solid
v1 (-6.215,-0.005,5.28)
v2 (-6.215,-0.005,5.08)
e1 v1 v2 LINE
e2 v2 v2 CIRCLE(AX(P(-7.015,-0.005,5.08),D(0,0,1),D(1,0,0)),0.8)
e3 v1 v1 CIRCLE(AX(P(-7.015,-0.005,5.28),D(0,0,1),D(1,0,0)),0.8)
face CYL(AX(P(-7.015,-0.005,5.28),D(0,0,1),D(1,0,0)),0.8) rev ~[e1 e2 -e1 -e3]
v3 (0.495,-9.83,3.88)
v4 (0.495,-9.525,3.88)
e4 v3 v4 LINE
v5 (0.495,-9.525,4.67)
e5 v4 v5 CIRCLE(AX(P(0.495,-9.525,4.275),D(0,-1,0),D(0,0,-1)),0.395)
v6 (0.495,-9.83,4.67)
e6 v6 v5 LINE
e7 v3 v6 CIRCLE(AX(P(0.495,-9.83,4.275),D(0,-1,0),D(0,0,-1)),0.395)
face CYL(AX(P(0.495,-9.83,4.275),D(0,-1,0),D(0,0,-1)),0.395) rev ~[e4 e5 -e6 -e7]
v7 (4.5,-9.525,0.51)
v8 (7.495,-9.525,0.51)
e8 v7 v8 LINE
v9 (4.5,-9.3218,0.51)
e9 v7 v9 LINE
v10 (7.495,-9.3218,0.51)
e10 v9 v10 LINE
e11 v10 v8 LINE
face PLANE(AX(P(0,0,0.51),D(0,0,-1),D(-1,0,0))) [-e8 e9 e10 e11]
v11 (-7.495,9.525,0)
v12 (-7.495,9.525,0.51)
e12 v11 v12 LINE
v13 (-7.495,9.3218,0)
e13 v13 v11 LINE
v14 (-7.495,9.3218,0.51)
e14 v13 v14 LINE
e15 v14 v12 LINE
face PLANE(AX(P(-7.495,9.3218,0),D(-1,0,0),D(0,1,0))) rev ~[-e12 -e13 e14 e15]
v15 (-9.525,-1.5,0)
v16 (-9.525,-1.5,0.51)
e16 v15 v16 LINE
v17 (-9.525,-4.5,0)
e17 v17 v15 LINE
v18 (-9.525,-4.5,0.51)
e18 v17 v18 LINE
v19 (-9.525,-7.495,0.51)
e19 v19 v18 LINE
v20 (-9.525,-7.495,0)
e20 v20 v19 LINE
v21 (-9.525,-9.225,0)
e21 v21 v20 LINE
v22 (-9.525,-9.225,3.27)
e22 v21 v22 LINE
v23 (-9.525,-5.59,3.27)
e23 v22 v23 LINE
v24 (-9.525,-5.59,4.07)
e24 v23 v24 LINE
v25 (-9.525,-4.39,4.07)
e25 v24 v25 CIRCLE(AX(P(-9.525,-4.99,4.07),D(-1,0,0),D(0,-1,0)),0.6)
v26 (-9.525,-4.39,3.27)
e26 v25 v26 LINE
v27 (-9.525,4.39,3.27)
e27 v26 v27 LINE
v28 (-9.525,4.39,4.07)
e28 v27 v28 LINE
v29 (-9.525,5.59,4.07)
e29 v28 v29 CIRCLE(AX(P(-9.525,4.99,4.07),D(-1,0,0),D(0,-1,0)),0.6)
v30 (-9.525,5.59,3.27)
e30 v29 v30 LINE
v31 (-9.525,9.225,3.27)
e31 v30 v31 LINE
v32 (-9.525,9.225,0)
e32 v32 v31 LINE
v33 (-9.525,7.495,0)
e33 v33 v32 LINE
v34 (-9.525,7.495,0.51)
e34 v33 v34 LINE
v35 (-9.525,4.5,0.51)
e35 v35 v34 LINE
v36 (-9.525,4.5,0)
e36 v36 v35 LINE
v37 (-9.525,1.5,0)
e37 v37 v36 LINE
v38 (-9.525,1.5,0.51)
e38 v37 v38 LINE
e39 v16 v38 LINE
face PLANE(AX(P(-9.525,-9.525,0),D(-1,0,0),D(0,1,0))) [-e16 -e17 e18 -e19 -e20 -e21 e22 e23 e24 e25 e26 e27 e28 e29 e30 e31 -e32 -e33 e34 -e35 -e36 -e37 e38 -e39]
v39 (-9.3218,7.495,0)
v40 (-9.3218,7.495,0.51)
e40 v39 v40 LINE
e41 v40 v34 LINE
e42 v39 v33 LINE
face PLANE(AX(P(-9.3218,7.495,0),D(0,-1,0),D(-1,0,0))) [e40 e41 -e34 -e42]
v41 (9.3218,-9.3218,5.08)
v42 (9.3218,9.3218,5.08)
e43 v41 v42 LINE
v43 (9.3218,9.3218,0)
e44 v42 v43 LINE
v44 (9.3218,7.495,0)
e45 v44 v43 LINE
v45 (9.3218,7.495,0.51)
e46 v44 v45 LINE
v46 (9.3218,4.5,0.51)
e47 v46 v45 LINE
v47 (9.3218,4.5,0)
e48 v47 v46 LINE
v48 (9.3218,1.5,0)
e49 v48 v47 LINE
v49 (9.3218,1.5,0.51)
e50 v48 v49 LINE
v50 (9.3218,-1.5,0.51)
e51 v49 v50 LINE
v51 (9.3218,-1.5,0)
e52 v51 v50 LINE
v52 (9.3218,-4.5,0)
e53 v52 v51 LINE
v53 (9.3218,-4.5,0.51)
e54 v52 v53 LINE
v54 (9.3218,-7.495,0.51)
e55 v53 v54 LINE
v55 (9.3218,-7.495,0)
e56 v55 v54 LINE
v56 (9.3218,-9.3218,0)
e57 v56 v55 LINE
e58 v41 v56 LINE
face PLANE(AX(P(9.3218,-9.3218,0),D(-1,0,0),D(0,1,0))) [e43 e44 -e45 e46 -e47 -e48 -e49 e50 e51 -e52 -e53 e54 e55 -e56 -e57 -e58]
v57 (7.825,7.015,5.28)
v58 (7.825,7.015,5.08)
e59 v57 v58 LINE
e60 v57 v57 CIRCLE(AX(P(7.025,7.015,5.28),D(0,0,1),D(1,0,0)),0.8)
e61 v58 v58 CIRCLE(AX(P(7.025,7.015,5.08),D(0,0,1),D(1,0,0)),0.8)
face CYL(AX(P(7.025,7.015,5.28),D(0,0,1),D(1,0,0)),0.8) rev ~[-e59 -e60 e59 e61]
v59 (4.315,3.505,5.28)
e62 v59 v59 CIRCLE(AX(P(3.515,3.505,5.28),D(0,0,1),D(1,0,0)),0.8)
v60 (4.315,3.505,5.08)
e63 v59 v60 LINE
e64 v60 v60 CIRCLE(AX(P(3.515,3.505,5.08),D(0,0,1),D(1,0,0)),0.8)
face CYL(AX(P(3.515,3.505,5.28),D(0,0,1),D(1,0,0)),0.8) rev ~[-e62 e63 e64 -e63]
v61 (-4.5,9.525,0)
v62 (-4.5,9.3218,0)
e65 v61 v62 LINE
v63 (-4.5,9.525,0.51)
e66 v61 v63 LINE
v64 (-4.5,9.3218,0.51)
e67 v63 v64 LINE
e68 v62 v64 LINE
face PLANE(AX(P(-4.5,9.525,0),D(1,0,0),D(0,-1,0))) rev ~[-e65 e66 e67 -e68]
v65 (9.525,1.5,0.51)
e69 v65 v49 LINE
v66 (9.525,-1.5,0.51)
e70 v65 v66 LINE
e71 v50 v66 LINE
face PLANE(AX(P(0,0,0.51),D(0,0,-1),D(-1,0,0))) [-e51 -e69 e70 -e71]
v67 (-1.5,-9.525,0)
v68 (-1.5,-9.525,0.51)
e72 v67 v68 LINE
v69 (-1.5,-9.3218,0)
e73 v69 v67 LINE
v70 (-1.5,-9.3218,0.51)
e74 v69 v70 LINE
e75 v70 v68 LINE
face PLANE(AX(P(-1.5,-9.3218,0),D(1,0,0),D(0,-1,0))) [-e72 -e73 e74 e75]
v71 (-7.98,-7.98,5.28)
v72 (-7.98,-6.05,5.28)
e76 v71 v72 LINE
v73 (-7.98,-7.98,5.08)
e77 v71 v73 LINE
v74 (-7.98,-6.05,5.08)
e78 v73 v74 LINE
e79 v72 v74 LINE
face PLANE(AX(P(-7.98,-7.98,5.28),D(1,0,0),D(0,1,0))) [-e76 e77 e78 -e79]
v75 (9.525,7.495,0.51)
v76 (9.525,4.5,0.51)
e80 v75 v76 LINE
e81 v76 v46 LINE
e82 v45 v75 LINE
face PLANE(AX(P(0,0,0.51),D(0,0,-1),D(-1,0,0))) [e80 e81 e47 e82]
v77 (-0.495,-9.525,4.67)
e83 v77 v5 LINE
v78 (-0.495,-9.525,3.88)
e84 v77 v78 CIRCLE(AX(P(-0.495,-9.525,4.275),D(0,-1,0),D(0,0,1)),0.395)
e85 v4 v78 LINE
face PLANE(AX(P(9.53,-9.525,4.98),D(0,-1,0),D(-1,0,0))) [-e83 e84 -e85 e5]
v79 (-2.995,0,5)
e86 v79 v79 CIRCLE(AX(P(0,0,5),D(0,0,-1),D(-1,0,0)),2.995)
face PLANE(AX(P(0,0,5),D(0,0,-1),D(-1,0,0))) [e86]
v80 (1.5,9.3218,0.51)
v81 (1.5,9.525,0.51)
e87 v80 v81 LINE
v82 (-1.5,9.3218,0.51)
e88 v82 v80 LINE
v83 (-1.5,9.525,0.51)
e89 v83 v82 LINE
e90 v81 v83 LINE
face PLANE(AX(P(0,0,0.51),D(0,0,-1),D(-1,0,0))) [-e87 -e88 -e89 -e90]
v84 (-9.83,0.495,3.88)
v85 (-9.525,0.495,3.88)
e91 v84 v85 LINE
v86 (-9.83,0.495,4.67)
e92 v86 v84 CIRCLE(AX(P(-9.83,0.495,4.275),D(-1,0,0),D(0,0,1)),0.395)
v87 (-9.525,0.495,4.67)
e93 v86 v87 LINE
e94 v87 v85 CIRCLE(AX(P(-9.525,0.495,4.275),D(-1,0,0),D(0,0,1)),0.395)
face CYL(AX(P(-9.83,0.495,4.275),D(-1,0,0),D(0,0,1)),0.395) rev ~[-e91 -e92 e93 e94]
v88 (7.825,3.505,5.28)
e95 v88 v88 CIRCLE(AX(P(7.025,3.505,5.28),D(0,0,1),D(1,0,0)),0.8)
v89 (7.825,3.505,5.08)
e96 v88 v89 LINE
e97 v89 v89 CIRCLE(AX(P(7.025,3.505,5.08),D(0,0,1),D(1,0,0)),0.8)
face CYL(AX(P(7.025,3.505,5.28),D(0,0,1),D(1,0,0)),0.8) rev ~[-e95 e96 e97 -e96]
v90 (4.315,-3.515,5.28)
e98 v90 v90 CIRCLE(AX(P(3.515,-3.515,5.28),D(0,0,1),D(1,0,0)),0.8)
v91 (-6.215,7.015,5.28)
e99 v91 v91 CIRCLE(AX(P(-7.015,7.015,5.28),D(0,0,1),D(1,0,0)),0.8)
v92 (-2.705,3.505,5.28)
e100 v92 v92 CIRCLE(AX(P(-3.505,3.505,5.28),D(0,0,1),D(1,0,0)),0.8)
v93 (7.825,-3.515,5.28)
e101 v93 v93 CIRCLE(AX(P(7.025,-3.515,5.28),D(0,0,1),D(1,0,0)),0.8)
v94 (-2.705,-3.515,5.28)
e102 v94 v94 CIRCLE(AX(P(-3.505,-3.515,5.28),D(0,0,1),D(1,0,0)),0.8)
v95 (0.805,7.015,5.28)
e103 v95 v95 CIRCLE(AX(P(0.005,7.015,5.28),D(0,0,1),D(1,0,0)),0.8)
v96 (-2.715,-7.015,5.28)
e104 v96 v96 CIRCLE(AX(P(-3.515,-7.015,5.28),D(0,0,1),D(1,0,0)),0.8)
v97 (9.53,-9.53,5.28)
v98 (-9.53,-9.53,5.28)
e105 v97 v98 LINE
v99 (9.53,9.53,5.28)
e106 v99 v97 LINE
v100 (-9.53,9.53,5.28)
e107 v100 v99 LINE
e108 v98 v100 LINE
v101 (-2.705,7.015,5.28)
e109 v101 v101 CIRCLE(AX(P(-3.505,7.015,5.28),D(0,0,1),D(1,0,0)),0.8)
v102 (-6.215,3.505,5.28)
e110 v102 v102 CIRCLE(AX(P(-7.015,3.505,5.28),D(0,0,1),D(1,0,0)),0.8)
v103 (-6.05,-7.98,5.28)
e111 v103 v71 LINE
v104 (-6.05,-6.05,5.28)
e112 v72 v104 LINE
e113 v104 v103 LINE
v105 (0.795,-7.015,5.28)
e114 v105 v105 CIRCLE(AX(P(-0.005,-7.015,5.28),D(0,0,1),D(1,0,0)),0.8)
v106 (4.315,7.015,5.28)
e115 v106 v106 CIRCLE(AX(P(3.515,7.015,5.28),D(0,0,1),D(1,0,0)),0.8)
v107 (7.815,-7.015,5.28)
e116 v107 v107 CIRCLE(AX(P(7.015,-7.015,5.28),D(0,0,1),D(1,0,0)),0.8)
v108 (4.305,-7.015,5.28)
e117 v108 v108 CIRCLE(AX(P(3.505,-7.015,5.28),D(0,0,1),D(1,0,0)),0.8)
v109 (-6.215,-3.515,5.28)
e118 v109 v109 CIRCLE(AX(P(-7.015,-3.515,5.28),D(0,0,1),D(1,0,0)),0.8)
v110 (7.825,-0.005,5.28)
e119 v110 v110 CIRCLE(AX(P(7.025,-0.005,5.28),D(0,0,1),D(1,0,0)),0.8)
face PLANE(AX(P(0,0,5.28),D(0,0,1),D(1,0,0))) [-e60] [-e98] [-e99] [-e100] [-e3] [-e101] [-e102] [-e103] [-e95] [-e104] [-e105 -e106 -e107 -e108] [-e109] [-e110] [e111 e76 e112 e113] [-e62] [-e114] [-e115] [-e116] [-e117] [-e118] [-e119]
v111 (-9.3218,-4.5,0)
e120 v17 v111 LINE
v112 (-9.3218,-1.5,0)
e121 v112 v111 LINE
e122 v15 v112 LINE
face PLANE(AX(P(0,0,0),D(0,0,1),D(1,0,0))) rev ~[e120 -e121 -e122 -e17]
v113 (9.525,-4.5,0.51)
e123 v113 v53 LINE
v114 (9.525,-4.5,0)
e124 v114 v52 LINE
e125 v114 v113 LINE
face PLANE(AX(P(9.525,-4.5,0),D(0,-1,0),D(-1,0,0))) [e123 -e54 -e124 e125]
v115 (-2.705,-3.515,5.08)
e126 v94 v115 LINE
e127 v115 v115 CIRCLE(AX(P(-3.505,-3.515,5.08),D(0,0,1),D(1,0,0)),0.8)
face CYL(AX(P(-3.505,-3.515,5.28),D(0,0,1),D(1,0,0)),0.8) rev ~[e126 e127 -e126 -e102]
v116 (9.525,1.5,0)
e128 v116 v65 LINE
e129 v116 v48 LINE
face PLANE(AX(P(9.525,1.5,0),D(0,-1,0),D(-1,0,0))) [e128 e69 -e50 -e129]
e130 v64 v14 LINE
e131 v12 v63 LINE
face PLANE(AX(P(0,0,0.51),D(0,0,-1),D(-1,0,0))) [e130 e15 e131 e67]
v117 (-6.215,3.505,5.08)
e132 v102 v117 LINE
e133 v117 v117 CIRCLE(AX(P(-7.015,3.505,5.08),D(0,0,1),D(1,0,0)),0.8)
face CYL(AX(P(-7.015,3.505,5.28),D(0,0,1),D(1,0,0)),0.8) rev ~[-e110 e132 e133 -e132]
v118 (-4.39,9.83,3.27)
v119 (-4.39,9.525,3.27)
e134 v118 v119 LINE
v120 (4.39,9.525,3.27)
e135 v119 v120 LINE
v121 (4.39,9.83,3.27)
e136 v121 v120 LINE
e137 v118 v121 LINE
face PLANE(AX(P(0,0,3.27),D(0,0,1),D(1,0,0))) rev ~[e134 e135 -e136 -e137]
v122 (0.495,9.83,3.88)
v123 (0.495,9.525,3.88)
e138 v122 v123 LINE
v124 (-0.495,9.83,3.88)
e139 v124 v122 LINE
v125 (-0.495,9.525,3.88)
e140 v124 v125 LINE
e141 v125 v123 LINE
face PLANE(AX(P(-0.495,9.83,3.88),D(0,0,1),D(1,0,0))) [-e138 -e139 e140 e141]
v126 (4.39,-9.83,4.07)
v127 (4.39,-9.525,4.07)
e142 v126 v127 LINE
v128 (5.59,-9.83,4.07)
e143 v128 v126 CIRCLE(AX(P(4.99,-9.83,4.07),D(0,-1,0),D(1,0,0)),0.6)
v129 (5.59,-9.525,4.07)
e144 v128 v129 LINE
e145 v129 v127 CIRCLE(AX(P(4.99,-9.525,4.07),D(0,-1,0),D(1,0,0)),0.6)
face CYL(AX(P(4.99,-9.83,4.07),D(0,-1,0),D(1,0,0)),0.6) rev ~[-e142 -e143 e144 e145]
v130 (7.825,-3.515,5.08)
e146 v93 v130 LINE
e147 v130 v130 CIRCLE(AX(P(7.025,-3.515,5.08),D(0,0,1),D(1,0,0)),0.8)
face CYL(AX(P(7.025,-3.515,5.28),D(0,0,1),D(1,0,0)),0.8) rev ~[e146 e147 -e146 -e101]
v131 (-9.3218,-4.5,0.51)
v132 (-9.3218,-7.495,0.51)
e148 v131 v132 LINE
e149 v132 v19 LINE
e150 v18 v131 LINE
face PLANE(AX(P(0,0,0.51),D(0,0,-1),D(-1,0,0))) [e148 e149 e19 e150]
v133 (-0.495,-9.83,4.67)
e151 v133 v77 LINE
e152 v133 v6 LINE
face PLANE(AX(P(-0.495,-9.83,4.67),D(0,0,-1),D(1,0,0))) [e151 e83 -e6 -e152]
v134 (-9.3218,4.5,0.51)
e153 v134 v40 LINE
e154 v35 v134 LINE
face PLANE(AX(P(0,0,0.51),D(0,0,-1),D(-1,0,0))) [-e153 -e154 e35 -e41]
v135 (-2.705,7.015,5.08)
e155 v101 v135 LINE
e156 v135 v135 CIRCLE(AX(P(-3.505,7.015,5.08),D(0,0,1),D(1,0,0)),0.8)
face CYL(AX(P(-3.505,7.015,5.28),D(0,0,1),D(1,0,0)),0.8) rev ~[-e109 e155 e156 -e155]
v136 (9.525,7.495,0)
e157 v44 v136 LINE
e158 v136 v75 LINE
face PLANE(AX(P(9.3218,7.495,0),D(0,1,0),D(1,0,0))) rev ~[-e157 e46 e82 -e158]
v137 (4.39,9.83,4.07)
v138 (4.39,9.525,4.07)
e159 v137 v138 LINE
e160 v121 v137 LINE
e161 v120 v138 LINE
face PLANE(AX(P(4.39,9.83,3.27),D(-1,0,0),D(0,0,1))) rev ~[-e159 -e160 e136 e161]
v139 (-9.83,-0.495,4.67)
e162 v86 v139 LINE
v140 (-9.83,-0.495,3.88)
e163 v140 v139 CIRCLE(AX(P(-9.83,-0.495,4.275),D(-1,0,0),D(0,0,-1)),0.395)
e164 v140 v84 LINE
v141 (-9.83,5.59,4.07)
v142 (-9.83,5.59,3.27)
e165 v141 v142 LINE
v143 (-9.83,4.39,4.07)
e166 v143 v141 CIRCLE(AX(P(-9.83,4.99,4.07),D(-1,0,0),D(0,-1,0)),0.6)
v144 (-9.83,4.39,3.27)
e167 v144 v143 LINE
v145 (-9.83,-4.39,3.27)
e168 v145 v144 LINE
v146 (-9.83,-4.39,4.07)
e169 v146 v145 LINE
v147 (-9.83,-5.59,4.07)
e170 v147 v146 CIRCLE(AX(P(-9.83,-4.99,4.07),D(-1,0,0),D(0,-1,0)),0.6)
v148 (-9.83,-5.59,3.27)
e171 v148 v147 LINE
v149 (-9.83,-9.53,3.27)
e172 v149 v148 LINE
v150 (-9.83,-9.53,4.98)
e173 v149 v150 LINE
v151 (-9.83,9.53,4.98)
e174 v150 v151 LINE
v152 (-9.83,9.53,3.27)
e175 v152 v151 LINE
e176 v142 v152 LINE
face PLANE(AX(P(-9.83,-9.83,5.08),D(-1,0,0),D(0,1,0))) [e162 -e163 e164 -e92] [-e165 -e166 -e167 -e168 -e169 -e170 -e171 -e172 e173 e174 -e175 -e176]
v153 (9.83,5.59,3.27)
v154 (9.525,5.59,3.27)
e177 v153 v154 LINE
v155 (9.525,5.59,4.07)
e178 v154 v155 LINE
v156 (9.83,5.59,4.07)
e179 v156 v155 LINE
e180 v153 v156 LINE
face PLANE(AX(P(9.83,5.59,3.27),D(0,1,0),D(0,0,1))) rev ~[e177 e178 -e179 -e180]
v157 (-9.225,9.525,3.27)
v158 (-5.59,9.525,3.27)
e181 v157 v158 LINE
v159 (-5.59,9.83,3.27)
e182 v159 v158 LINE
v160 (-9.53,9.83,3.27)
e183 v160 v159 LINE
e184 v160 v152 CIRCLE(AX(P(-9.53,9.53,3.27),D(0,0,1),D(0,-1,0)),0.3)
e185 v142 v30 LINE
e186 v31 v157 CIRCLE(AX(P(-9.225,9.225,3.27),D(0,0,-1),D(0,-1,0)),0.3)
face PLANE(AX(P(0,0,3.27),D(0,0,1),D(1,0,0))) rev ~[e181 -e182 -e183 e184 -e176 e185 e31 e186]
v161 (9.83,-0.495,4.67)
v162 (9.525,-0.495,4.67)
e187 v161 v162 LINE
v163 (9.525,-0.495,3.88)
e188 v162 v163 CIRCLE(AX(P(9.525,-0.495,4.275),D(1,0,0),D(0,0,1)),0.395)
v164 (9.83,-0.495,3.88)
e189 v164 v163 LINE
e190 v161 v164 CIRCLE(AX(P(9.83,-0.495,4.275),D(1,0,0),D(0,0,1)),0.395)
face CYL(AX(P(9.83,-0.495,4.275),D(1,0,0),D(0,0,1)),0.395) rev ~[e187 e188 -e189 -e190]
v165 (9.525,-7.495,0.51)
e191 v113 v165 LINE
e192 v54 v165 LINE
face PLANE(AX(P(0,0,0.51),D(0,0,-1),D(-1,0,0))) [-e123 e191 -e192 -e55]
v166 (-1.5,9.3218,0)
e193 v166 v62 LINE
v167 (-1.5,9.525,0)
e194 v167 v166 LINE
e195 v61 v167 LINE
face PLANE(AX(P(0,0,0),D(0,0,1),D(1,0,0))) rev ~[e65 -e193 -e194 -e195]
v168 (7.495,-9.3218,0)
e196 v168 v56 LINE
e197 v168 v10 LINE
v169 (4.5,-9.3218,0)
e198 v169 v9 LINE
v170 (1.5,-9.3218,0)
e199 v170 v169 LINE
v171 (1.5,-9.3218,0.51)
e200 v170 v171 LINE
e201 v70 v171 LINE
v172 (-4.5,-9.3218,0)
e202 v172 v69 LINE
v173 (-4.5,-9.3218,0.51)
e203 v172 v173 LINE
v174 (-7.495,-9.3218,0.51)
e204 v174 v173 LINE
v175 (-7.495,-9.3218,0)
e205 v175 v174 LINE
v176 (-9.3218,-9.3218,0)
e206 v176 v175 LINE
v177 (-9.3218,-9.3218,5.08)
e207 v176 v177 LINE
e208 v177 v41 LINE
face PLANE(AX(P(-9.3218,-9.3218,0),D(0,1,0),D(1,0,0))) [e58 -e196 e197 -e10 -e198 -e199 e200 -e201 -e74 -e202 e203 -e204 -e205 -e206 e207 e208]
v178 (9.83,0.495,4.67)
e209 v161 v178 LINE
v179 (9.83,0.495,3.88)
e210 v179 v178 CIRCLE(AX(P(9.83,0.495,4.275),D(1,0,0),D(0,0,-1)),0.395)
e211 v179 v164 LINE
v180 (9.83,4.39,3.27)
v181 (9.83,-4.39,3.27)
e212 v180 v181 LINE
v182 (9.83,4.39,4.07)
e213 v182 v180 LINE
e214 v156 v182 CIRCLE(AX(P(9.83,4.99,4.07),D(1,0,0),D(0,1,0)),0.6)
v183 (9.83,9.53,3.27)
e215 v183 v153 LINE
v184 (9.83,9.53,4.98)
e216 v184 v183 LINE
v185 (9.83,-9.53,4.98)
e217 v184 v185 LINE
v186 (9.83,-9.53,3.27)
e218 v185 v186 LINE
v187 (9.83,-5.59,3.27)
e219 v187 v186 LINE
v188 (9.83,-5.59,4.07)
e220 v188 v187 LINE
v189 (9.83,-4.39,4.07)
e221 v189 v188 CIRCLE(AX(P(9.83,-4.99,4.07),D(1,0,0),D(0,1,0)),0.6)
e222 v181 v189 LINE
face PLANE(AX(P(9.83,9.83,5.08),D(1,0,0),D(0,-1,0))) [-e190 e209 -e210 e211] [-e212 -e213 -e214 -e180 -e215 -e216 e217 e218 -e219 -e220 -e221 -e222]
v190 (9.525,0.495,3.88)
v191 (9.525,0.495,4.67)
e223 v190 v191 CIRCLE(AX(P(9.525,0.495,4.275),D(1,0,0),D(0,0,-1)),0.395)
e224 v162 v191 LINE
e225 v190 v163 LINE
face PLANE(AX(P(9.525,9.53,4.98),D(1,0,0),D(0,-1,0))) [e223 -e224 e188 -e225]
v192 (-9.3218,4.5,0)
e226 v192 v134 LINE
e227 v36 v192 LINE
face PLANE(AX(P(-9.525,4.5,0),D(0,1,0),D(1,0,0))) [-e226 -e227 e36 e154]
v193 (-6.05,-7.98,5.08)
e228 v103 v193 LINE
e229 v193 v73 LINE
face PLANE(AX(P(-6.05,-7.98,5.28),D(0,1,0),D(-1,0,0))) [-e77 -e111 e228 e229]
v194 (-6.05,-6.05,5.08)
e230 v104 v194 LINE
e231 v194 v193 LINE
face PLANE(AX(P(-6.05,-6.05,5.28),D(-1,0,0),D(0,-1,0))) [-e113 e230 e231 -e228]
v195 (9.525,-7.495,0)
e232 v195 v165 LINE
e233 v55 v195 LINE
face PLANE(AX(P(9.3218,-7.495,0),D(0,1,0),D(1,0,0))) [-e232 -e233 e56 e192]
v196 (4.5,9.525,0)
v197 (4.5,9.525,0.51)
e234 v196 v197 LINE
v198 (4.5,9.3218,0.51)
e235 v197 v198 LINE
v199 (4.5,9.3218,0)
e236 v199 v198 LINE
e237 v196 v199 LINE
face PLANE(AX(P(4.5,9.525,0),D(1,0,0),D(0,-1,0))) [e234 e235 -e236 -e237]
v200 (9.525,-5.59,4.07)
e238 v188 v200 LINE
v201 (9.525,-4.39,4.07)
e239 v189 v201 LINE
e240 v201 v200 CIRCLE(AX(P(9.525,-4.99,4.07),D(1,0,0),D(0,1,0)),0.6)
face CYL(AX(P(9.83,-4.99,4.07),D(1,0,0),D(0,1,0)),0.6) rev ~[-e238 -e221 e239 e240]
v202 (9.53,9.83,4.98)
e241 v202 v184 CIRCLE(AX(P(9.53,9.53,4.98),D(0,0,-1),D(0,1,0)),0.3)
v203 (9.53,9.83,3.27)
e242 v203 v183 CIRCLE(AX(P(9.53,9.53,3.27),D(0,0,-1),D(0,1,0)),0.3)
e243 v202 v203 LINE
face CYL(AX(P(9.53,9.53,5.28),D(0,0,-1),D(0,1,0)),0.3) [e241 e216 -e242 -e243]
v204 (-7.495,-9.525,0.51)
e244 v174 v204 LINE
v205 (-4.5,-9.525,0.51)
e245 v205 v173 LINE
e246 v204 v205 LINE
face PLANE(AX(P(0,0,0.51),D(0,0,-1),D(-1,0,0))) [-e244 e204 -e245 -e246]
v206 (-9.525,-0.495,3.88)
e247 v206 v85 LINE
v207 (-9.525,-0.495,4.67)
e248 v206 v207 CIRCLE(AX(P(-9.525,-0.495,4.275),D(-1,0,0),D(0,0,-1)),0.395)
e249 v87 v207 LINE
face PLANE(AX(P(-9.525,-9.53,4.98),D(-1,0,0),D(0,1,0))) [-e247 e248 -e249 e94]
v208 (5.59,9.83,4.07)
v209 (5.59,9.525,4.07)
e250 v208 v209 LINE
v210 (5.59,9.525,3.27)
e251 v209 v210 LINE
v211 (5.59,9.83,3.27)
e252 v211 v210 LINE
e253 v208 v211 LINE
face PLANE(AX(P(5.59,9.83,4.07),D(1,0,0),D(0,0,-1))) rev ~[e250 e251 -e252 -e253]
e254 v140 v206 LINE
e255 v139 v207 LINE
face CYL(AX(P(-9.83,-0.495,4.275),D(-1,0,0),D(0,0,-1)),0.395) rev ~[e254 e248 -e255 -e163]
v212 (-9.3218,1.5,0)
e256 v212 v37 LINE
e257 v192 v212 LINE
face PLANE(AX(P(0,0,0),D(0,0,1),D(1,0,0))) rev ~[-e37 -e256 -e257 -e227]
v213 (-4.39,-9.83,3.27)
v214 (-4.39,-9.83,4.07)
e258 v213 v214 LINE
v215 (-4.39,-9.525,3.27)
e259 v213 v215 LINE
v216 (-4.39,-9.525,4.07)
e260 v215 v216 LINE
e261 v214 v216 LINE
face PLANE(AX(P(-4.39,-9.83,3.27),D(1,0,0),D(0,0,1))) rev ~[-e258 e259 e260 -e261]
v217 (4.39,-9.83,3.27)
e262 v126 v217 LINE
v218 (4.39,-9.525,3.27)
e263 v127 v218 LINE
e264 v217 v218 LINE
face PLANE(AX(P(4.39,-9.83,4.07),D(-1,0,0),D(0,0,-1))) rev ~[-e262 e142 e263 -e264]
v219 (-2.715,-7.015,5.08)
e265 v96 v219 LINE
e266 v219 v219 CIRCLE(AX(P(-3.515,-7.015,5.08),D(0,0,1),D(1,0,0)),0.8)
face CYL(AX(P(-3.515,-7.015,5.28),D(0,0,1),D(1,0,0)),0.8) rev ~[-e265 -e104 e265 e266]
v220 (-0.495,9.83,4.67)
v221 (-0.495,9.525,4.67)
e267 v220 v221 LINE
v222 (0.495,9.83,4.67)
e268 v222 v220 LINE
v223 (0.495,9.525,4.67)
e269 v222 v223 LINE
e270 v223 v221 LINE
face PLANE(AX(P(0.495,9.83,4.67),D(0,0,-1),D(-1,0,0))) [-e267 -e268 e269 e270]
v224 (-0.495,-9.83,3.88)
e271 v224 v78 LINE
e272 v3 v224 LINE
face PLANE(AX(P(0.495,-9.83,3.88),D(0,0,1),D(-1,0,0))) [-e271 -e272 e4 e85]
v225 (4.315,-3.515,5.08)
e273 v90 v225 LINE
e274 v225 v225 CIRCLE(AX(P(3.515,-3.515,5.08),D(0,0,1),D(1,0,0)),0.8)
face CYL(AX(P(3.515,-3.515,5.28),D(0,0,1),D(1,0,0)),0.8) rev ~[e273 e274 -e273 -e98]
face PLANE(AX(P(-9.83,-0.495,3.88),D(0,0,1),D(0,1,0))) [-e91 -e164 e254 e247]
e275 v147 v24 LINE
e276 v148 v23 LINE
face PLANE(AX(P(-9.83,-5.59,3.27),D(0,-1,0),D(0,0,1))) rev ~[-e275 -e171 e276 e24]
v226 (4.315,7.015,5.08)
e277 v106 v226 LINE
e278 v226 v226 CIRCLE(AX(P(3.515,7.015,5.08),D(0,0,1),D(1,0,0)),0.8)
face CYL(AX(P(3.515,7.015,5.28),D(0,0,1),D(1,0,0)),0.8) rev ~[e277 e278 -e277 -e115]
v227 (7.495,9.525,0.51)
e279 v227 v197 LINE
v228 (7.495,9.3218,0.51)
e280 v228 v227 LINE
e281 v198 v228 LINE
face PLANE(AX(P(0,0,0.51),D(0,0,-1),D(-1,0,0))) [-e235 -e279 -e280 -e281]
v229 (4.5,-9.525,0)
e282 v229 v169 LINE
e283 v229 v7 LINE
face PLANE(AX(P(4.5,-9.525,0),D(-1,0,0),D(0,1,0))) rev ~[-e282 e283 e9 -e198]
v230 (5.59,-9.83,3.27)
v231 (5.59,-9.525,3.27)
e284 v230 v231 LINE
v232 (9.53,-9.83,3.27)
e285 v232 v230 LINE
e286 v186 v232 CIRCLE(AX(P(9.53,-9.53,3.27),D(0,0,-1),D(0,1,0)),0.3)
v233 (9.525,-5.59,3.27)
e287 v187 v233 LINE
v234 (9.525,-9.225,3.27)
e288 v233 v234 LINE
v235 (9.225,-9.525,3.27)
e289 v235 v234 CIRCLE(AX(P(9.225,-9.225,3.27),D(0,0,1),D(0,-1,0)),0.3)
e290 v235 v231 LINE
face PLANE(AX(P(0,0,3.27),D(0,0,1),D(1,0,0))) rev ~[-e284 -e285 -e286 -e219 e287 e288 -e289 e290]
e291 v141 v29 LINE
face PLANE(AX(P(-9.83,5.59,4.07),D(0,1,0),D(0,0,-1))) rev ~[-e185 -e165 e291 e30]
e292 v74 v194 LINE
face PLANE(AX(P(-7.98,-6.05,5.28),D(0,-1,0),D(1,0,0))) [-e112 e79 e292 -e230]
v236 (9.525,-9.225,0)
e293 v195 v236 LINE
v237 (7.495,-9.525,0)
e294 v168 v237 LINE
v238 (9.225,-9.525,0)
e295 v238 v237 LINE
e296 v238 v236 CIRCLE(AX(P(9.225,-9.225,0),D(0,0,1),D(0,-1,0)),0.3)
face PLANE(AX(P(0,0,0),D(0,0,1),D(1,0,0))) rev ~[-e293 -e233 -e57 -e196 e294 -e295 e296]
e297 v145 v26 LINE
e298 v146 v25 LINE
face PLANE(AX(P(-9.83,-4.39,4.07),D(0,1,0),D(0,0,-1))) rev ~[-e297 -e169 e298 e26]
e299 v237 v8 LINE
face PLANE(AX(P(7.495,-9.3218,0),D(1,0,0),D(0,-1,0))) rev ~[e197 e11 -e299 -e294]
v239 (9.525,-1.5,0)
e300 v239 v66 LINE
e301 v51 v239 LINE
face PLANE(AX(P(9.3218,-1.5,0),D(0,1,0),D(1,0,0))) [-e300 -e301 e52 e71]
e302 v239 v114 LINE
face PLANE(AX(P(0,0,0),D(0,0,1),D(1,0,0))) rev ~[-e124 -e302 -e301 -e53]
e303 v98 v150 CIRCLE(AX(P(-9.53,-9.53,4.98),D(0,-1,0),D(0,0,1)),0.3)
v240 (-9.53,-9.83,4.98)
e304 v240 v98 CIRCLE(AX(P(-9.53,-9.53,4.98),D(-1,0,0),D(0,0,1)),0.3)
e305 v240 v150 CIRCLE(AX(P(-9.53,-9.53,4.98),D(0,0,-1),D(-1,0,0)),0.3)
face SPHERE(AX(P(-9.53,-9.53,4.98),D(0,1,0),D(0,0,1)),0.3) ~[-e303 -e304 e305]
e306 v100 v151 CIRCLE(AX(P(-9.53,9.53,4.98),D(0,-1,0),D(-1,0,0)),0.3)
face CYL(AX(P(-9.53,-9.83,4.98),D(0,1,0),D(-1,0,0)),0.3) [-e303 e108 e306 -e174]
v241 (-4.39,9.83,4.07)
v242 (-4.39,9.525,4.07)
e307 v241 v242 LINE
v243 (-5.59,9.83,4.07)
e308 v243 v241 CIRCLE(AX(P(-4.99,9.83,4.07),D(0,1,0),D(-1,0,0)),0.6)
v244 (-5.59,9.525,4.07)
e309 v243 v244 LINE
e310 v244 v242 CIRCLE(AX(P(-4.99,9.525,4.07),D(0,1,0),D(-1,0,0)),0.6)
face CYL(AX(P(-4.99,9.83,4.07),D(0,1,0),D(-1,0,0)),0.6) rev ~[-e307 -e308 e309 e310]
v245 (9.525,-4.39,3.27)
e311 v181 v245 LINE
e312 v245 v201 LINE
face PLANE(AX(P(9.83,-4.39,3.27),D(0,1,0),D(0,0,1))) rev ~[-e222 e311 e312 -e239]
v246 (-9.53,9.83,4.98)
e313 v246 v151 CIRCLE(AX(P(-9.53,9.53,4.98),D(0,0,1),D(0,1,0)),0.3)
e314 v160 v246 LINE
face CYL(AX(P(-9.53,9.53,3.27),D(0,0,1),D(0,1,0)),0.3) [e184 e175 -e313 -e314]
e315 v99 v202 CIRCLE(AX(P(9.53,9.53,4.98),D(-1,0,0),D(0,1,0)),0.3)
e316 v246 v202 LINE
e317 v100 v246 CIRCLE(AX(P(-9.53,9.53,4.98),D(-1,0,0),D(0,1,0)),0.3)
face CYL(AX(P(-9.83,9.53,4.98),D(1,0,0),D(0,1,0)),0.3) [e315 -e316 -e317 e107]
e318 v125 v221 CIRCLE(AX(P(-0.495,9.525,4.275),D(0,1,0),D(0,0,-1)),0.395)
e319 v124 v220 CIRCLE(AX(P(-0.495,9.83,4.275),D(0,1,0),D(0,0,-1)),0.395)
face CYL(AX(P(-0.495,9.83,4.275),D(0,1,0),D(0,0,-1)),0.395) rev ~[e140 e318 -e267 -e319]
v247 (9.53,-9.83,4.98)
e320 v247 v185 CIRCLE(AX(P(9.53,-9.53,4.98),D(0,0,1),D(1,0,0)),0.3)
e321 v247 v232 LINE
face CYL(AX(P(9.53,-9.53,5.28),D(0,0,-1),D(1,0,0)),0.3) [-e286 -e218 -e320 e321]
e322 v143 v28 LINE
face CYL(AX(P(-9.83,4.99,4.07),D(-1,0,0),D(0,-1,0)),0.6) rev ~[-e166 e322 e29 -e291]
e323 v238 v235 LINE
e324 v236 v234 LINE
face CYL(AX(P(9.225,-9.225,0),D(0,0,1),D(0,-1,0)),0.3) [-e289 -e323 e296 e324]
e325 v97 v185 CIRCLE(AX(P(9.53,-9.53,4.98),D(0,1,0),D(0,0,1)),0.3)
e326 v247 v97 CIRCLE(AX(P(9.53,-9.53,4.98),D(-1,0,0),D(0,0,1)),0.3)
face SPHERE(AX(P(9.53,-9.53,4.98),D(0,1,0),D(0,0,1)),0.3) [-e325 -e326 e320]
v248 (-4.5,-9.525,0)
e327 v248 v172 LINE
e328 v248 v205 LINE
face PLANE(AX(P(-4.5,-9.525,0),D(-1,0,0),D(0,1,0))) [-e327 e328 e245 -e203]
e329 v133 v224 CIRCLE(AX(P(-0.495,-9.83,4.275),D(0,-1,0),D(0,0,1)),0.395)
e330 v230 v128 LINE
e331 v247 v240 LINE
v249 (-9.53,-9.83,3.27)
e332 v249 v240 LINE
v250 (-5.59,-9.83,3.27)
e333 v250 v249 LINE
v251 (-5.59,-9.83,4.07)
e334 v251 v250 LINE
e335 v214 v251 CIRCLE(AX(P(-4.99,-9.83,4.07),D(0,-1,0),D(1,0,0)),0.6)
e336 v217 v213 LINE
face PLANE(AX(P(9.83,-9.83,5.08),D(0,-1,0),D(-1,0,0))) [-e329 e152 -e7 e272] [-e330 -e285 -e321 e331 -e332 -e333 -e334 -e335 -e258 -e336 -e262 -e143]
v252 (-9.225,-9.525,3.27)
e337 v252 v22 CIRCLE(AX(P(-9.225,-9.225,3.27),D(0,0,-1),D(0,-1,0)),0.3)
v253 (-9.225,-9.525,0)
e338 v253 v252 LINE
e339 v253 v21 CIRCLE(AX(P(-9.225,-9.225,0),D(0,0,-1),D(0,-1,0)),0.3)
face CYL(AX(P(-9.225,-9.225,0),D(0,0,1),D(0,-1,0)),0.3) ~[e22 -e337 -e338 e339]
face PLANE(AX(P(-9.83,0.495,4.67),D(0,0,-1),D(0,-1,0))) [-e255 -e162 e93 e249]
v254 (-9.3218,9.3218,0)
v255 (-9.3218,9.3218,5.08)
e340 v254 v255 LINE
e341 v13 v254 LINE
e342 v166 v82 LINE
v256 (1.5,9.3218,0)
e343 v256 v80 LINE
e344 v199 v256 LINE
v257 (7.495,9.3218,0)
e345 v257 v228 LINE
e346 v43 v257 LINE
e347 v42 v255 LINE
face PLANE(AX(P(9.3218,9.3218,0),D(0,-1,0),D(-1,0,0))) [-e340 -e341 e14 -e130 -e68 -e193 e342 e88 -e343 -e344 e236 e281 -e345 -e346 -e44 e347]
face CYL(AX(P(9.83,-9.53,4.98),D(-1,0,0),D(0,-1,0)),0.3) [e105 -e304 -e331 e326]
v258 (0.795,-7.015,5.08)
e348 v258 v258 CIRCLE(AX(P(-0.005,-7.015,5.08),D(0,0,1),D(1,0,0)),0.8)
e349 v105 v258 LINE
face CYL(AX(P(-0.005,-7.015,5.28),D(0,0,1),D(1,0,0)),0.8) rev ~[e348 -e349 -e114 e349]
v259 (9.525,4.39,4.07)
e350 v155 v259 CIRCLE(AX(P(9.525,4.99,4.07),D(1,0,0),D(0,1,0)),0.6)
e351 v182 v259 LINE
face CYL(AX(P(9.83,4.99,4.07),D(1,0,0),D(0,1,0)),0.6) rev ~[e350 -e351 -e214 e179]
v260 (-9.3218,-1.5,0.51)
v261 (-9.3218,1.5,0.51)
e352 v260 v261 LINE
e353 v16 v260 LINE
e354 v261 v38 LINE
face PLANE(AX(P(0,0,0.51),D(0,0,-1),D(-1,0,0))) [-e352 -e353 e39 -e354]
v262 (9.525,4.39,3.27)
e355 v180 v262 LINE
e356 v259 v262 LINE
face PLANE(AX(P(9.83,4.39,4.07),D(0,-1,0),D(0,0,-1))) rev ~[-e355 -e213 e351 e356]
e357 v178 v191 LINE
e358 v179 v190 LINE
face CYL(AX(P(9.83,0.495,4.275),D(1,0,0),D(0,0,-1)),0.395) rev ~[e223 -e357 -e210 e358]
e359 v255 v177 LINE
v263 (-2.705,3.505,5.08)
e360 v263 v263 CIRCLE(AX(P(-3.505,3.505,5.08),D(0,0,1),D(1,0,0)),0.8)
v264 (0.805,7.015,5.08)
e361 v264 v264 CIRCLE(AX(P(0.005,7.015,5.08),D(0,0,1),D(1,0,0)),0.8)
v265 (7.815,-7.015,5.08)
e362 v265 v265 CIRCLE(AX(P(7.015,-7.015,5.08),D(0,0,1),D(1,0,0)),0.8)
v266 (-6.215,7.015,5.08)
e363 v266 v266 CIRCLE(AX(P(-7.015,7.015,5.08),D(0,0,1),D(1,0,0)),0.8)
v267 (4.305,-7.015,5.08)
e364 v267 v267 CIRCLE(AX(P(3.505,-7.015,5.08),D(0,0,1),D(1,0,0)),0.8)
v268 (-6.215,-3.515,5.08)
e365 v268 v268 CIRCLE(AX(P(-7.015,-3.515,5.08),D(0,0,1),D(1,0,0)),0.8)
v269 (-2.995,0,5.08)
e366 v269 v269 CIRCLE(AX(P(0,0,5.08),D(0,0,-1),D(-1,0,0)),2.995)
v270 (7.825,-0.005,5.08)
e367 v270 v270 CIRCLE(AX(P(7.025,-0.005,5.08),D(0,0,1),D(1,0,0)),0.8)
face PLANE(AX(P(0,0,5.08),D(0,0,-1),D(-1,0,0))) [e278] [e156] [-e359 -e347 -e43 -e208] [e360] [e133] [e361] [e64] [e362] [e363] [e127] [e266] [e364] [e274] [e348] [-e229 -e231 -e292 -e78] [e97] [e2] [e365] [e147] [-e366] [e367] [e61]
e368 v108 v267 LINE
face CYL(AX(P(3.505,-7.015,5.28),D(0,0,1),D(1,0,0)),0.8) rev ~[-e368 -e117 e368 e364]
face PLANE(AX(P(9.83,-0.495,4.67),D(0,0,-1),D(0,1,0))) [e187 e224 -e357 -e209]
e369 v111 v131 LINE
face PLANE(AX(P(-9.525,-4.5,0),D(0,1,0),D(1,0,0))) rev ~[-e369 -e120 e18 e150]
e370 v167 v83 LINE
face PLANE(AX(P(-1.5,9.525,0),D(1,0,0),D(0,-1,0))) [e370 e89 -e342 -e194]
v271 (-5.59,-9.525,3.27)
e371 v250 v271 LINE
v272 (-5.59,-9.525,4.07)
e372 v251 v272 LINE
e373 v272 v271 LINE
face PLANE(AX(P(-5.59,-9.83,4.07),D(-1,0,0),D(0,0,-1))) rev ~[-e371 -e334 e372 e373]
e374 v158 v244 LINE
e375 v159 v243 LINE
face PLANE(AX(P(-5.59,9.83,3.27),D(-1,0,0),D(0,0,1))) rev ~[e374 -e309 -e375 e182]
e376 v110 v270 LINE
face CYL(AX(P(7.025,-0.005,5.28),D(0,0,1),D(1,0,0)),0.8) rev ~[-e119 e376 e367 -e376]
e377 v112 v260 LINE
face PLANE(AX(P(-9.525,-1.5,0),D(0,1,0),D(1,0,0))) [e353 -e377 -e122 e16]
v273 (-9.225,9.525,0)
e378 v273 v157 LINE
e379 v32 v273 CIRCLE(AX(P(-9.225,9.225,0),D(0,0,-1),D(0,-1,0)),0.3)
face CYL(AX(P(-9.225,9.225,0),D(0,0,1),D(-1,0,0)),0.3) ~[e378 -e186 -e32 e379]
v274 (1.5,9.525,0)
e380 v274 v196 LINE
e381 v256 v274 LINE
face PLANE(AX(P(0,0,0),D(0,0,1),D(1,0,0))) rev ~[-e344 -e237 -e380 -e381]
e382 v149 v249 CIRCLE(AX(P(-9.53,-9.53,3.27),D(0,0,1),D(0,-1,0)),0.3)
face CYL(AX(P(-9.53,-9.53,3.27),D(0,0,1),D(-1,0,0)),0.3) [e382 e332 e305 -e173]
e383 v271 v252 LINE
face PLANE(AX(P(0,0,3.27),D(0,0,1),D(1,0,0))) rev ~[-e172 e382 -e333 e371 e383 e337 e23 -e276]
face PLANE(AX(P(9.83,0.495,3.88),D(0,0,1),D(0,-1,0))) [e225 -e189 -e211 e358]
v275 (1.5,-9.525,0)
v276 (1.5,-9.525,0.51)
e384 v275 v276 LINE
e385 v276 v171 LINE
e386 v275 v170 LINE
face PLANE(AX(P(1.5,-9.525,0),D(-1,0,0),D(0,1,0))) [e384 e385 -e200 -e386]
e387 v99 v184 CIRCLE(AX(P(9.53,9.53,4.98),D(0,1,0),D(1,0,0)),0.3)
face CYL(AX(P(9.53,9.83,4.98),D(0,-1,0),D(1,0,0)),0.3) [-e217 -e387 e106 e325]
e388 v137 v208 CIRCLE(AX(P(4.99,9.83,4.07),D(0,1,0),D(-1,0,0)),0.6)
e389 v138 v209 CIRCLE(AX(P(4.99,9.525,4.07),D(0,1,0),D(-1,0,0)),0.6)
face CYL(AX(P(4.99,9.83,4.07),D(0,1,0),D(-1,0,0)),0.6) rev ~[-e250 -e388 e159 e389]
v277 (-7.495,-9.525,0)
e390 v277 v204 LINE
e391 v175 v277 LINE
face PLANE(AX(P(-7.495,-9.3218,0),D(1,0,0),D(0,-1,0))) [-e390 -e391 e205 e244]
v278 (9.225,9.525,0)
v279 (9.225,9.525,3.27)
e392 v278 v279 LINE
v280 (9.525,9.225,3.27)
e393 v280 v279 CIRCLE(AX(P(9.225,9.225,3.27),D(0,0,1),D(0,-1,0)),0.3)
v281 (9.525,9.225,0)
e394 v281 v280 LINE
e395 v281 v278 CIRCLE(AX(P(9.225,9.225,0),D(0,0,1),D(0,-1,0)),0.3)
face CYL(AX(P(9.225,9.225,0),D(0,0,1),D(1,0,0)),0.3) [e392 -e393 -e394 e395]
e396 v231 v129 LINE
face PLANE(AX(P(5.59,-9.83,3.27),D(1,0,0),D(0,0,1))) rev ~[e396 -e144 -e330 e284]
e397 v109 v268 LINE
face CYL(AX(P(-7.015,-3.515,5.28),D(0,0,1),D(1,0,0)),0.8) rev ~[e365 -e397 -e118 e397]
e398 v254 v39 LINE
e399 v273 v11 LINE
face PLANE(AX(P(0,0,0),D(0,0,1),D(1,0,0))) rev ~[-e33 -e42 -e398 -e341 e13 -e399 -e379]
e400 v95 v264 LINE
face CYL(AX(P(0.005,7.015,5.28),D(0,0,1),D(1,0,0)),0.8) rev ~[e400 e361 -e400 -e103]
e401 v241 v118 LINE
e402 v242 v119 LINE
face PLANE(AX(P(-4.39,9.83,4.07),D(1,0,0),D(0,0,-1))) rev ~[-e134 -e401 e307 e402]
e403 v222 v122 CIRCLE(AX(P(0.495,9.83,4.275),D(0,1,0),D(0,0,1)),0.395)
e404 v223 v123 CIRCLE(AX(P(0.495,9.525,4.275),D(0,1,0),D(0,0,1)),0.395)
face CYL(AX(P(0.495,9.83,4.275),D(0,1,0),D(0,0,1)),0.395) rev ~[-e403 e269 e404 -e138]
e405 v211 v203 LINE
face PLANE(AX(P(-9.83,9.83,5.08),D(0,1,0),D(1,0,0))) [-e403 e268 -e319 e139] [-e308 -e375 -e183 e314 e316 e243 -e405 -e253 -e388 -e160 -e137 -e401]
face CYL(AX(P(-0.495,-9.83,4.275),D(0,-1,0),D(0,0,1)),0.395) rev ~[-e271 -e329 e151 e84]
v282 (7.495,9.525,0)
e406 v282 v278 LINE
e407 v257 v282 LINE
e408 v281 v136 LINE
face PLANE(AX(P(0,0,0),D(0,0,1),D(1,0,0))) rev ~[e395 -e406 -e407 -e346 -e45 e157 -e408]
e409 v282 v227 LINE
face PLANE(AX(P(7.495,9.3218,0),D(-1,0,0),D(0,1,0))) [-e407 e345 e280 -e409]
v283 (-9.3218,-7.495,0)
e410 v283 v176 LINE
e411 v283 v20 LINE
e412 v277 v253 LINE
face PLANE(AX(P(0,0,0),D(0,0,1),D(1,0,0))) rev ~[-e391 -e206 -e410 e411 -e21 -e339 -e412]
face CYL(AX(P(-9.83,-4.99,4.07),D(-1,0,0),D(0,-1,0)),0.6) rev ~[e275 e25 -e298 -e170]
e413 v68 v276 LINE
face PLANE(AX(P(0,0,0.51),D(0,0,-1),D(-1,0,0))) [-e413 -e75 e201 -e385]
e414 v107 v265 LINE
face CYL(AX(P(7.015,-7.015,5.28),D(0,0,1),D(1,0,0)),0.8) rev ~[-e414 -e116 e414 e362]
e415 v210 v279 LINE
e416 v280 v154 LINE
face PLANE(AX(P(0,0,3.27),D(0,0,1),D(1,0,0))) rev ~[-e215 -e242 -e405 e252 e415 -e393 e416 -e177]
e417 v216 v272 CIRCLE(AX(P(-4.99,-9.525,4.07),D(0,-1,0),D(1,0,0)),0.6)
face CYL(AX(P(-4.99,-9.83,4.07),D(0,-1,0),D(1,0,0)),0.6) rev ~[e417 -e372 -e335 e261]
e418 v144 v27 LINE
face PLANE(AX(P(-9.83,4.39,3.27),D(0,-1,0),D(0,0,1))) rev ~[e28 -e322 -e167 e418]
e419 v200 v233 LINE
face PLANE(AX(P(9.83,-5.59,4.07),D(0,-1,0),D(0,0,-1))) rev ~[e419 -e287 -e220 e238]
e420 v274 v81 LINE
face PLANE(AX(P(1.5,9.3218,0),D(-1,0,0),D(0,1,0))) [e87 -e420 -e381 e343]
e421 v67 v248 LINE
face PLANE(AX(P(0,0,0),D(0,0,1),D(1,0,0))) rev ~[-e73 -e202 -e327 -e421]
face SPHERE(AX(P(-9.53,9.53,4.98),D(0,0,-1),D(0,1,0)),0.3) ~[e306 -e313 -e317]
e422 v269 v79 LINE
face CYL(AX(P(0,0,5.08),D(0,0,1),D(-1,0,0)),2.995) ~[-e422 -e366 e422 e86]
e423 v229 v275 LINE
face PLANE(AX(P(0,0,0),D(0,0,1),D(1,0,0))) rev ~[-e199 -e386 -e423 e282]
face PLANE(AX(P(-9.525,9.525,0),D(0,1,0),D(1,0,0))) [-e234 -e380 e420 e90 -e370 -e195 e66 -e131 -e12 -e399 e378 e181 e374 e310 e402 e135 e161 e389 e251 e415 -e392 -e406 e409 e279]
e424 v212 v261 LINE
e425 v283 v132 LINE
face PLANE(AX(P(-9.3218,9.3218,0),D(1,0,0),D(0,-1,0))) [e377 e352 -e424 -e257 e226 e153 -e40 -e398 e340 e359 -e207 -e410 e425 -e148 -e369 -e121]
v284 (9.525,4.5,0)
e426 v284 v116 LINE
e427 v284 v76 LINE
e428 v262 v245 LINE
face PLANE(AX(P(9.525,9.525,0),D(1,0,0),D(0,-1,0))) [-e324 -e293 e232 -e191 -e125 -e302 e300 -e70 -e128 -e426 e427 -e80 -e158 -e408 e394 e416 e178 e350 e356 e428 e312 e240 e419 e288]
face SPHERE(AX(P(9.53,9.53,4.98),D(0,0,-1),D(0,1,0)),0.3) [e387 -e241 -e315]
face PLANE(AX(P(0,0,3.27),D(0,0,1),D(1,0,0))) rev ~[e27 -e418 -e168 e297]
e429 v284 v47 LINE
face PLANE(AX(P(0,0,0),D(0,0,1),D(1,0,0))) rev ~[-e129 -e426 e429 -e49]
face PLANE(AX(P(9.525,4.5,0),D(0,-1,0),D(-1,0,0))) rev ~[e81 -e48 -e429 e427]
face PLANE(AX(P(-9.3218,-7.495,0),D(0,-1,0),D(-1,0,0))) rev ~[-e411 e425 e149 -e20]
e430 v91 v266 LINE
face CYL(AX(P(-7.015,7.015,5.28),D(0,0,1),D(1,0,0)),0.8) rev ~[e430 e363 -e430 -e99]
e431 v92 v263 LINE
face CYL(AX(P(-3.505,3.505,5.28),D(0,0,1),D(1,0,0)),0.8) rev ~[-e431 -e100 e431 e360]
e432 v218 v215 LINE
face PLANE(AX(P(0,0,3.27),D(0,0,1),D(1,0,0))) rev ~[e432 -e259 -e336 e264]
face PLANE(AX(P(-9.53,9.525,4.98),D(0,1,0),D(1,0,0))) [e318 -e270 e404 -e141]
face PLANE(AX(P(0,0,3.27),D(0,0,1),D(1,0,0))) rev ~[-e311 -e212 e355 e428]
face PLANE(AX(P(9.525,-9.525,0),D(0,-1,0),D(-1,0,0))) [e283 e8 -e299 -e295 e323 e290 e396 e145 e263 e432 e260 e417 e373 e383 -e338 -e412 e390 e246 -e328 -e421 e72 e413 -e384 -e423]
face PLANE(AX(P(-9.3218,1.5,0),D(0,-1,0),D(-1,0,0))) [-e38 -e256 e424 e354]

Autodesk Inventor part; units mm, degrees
ref_plane "YZ Plane" through (0, 0, 0) normal (1, 0, 0) x (0, 1, 0)
ref_plane "XZ Plane" through (0, 0, 0) normal (0, 1, 0) x (-1, 0, 0)
ref_plane "XY Plane" through (0, 0, 0) normal (0, 0, 1) x (1, 0, 0)
sketch "Schizzo1" plane through (0, 0, 0) normal (0, 0, 1) x (1, 0, 0)
  line L0 (9.525, -9.525) -> (-9.525, -9.525)
  line L1 (-9.525, -9.525) -> (-9.525, 9.525)
  line L2 (-9.525, 9.525) -> (9.525, 9.525)
  line L3 (9.525, 9.525) -> (9.525, -9.525)
  line L4 (0, 0) -> (15.8702, 0) construction
  line L5 (0, 0) -> (15.8702, 0) construction
  line L6 (9.3218, 9.3218) -> (-9.3218, 9.3218)
  line L7 (-9.3218, 9.3218) -> (-9.3218, -9.3218)
  line L8 (-9.3218, -9.3218) -> (9.3218, -9.3218)
  line L9 (9.3218, -9.3218) -> (9.3218, 9.3218)
  dimension "d0" = 0
  dimension "d1" = 19.05
  dimension "d2" = 0.2032
extrude "Estrusione1" add sketch "Schizzo1" along normal blind 5.08
sketch "Schizzo2" plane through (0, 0, 0) normal (0, 0, -1) x (-1, 0, 0)
  line L0 (9.525, -9.525) -> (-9.525, -9.525) projected
  line L1 (9.3218, -9.3218) -> (-9.3218, -9.3218) projected
  line L2 (-7.495, -9.525) -> (-4.5, -9.525)
  line L3 (-4.5, -9.525) -> (-4.5, -9.3218)
  line L4 (-4.5, -9.3218) -> (-7.495, -9.3218)
  line L5 (-7.495, -9.3218) -> (-7.495, -9.525)
  line L6 (-9.525, 9.525) -> (-9.525, -9.525) projected
  line L7 (-1.5, -9.3218) -> (1.5, -9.3218)
  line L8 (1.5, -9.3218) -> (1.5, -9.525)
  line L9 (1.5, -9.525) -> (-1.5, -9.525)
  line L10 (-1.5, -9.525) -> (-1.5, -9.3218)
  line L11 (0, 9.3682) -> (0, 0) construction
  line L12 (4.5, -9.3218) -> (7.495, -9.3218)
  line L13 (7.495, -9.3218) -> (7.495, -9.525)
  line L14 (7.495, -9.525) -> (4.5, -9.525)
  line L15 (4.5, -9.525) -> (4.5, -9.3218)
  line L16 (9.525, -9.525) -> (9.525, 9.525) projected
  line L17 (9.525, 4.5) -> (9.3218, 4.5)
  line L18 (9.3218, 4.5) -> (9.3218, 7.495)
  line L19 (9.3218, 7.495) -> (9.525, 7.495)
  line L20 (9.525, 7.495) -> (9.525, 4.5)
  line L21 (9.3218, 1.5) -> (9.525, 1.5)
  line L22 (9.3218, -1.5) -> (9.3218, 1.5)
  line L23 (9.525, 1.5) -> (9.525, -1.5)
  line L24 (9.525, -1.5) -> (9.3218, -1.5)
  line L25 (9.525, -4.5) -> (9.3218, -4.5)
  line L26 (9.3218, -4.5) -> (9.3218, -7.495)
  line L27 (9.525, -7.495) -> (9.525, -4.5)
  line L28 (9.3218, -7.495) -> (9.525, -7.495)
  line L29 (-4.5, 9.525) -> (-4.5, 9.3218)
  line L30 (-4.5, 9.3218) -> (-7.495, 9.3218)
  line L31 (-7.495, 9.3218) -> (-7.495, 9.525)
  line L32 (-7.495, 9.525) -> (-4.5, 9.525)
  line L33 (-1.5, 9.3218) -> (-1.5, 9.525)
  line L34 (1.5, 9.3218) -> (-1.5, 9.3218)
  line L35 (-1.5, 9.525) -> (1.5, 9.525)
  line L36 (1.5, 9.525) -> (1.5, 9.3218)
  line L37 (4.5, 9.525) -> (4.5, 9.3218)
  line L38 (4.5, 9.3218) -> (7.495, 9.3218)
  line L39 (7.495, 9.525) -> (4.5, 9.525)
  line L40 (7.495, 9.3218) -> (7.495, 9.525)
  line L41 (-9.525, -4.5) -> (-9.3218, -4.5)
  line L42 (-9.3218, -4.5) -> (-9.3218, -7.495)
  line L43 (-9.3218, -7.495) -> (-9.525, -7.495)
  line L44 (-9.525, -7.495) -> (-9.525, -4.5)
  line L45 (-9.3218, -1.5) -> (-9.525, -1.5)
  line L46 (-9.3218, 1.5) -> (-9.3218, -1.5)
  line L47 (-9.525, -1.5) -> (-9.525, 1.5)
  line L48 (-9.525, 1.5) -> (-9.3218, 1.5)
  line L49 (-9.525, 4.5) -> (-9.3218, 4.5)
  line L50 (-9.3218, 4.5) -> (-9.3218, 7.495)
  line L51 (-9.525, 7.495) -> (-9.525, 4.5)
  line L52 (-9.3218, 7.495) -> (-9.525, 7.495)
  dimension "d5" = 2.03
  dimension "d6" = 3
  dimension "d7" = 3
  dimension "d8" = 3
  dimension "d9" = 2.03
  dimension "d12" = 360
extrude "Estrusione2" cut sketch "Schizzo2" against normal blind 0.51 contours L6 L52 L50 L49 | L6 L48 L46 L45 | L6 L41 L42 L43 | L0 L15 L1 L13 | L17 L18 L19 L16 | L24 L22 L21 L16 | L28 L26 L25 L16 | L0 L10 L1 L8 | L0 L5 L1 L3 | L29 L30 L31 L32 | L33 L35 L36 L34 | L39 L40 L38 L37
sketch "Schizzo3" plane through (0, 0, 5.08) normal (0, 0, 1) x (1, 0, 0)
  line L0 (-9.83, 9.83) -> (9.83, 9.83)
  line L1 (9.83, 9.83) -> (9.83, -9.83)
  line L2 (9.83, -9.83) -> (-9.83, -9.83)
  line L3 (-9.83, -9.83) -> (-9.83, 9.83)
  line L4 (-9.3218, 9.3218) -> (9.3218, 9.3218) construction
  line L5 (0, 9.3218) -> (0, 0) construction
  line L6 (0, 0) -> (-9.3218, 0) construction
  line L7 (-9.3218, -9.3218) -> (-9.3218, 9.3218) construction
  dimension "d16" = 19.66
  dimension "d17" = 19.66
extrude "Estrusione3" add sketch "Schizzo3" along normal blind 0.2 and the other way blind 1.81
fillet "Raccordo1" radius 0.3 12 edges at (9.525, 9.525, 1.635) (9.83, 9.83, 4.275) (-9.83, 9.83, 4.275) (-9.525, 9.525, 1.635) (0, 9.83, 5.28) (-9.83, 0, 5.28) (9.83, 0, 5.28) (0, -9.83, 5.28) (9.83, -9.83, 4.275) (9.525, -9.525, 1.635) (-9.83, -9.83, 4.275) (-9.525, -9.525, 1.635)
sketch "Schizzo4" plane through (-9.53, 9.83, 4.98) normal (0, 1, 0) x (1, 0, 0)
  line L0 (15.12, 1.71) -> (13.92, 1.71)
  line L1 (13.92, 1.71) -> (13.92, 0.91)
  line L2 (13.92, 0.91) -> (15.12, 0.91) construction
  line L3 (15.12, 0.91) -> (15.12, 1.71)
  circle A0 centre (14.52, 0.91) radius 0.6 construction
  arc A1 (13.92, 0.91) -> (15.12, 0.91) centre (14.52, 0.91) ccw
  line L4 (0, 1.71) -> (19.06, 1.71) projected
  line L5 (19.36, 0) -> (19.36, 1.71) projected
  line L6 (5.14, 1.71) -> (3.94, 1.71)
  line L7 (3.94, 1.71) -> (3.94, 0.91)
  line L8 (3.94, 0.91) -> (5.14, 0.91) construction
  line L9 (5.14, 0.91) -> (5.14, 1.71)
  circle A2 centre (4.54, 0.91) radius 0.6 construction
  arc A3 (3.94, 0.91) -> (5.14, 0.91) centre (4.54, 0.91) ccw
  line L10 (-0.3, 1.71) -> (-0.3, 0) projected
  line L11 (10.025, 0.31) -> (9.035, 0.31)
  line L12 (9.035, 0.31) -> (9.035, 1.1) construction
  line L13 (9.035, 1.1) -> (10.025, 1.1)
  line L14 (10.025, 1.1) -> (10.025, 0.31) construction
  arc A4 (10.025, 0.31) -> (10.025, 1.1) centre (10.025, 0.705) ccw
  arc A5 (9.035, 1.1) -> (9.035, 0.31) centre (9.035, 0.705) ccw
  line L15 (10.025, 0.705) -> (9.035, 0.705) construction
  line L16 (0, -0.3) -> (19.06, -0.3) projected
  point P0 (9.53, 4.98)
  point P1 (14.52, 0.31)
  point P2 (19.36, 1.41)
  point P3 (4.54, 0.31)
  point P4 (9.53, 0.705)
  point P5 (8.64, 0.705)
  point P6 (10.42, 0.705)
  dimension "d23" = 1.2
  dimension "d24" = 1.4
  dimension "d26" = 1.2
  dimension "d27" = 1.4
  dimension "d30" = 4.24
  dimension "d31" = 4.24
  dimension "d32" = 8.94
  dimension "d33" = 8.94
  dimension "d91" = 0.61
  dimension "d92" = 0.61
extrude "Estrusione4" cut sketch "Schizzo4" against normal up to surface (0.305 mm away)
sketch "Schizzo5" plane through (0, 0, 5.28) normal (0, 0, 1) x (1, 0, 0)
  line L0 (-7.98, -6.05) -> (-6.05, -6.05)
  line L1 (-6.05, -6.05) -> (-6.05, -7.98)
  line L2 (-6.05, -7.98) -> (-7.98, -7.98)
  line L3 (-7.98, -7.98) -> (-7.98, -6.05)
  line L4 (-9.83, 9.53) -> (-9.83, -9.53) projected
  line L5 (-9.53, -9.83) -> (9.53, -9.83) projected
  line L6 (-7.015, -7.015) -> (-7.015, 7.015) construction
  line L7 (-7.015, 7.015) -> (7.015, 7.015) construction
  line L8 (7.015, 7.015) -> (7.015, -7.015) construction
  line L9 (7.015, -7.015) -> (-7.015, -7.015) construction
  circle A0 centre (-7.015, 7.015) radius 0.8
  circle A1 centre (7.015, -7.015) radius 0.8
  circle A2 centre (-7.015, 3.505) radius 0.8
  circle A3 centre (-7.015, -0.005) radius 0.8
  circle A4 centre (-3.505, 7.015) radius 0.8
  circle A5 centre (-3.505, 3.505) radius 0.8
  circle A6 centre (-3.505, -0.005) radius 0.8
  circle A7 centre (0.005, 7.015) radius 0.8
  circle A8 centre (0.005, 3.505) radius 0.8
  circle A9 centre (0.005, -0.005) radius 0.8
  circle A10 centre (-7.015, -3.515) radius 0.8
  circle A11 centre (-3.505, -3.515) radius 0.8
  circle A12 centre (0.005, -3.515) radius 0.8
  circle A13 centre (3.515, 7.015) radius 0.8
  circle A14 centre (3.515, 3.505) radius 0.8
  circle A15 centre (3.515, -0.005) radius 0.8
  circle A16 centre (3.515, -3.515) radius 0.8
  circle A17 centre (7.025, 7.015) radius 0.8
  circle A18 centre (7.025, 3.505) radius 0.8
  circle A19 centre (7.025, -0.005) radius 0.8
  circle A20 centre (7.025, -3.515) radius 0.8
  circle A21 centre (3.505, -7.015) radius 0.8
  circle A22 centre (-0.005, -7.015) radius 0.8
  circle A23 centre (-3.515, -7.015) radius 0.8
  point P0 (0, 0)
  point P1 (0, 0)
  dimension "d38" = 1.93
  dimension "d39" = 1.85
  dimension "d40" = 1.85
  dimension "d41" = 1.6
  dimension "d42" = 1.6
  dimension "d45" = 3.51
  dimension "d48" = 3.51
  dimension "d53" = 3.51
extrude "Estrusione5" cut sketch "Schizzo5" against normal up to surface (5.28 mm away) contours L0 L1 L2 L3 | A0 | A1 | A2 | A3 | A4 | A5 | A7 | A10 | A11 | A13 | A14 | A16 | A17 | A18 | A19 | A20 | A21 | A22 | A23
sketch "Schizzo6" plane through (0, 0, 3.27) normal (0, 0, -1) x (-1, 0, 0)
  line L0 (-9.3218, 9.3218) -> (-7.495, 9.3218) projected
  line L1 (-9.3218, 9.3218) -> (9.3218, 9.3218)
  line L2 (9.3218, 9.3218) -> (9.3218, -9.3218)
  line L3 (9.3218, -9.3218) -> (-9.3218, -9.3218)
  line L4 (-9.3218, -9.3218) -> (-9.3218, 9.3218)
  line L5 (9.3218, -1.5) -> (9.3218, -4.5) projected
  line L6 (9.3218, -9.3218) -> (7.495, -9.3218) projected
  point P0 (0, 0)
extrude "Estrusione6" cut sketch "Schizzo6" against normal blind 1.81
sketch "Schizzo8" plane through (0, 0, 5.08) normal (0, 0, -1) x (-1, 0, 0)
  circle A0 centre (0, 0) radius 2.995
  dimension "d85" = 5.99
  dimension "d62" = 5.99
  dimension "d63" = 0.99
  dimension "d66" = 360
  dimension "d68" = 0.99
  dimension "d74" = 0.99
  dimension "d76" = 0.99
  dimension "d77" = 0.99
  dimension "d78" = 45
  dimension "d80" = 2.01
  dimension "d83" = 360
extrude "Estrusione7" add sketch "Schizzo8" along normal blind 0.08
pattern_circular "Serie circolare1" count 4 over 360 about axis through (0, 0, 5.08) along (0, 0, -1) of "Estrusione4"
properties part number "emi_shield"
